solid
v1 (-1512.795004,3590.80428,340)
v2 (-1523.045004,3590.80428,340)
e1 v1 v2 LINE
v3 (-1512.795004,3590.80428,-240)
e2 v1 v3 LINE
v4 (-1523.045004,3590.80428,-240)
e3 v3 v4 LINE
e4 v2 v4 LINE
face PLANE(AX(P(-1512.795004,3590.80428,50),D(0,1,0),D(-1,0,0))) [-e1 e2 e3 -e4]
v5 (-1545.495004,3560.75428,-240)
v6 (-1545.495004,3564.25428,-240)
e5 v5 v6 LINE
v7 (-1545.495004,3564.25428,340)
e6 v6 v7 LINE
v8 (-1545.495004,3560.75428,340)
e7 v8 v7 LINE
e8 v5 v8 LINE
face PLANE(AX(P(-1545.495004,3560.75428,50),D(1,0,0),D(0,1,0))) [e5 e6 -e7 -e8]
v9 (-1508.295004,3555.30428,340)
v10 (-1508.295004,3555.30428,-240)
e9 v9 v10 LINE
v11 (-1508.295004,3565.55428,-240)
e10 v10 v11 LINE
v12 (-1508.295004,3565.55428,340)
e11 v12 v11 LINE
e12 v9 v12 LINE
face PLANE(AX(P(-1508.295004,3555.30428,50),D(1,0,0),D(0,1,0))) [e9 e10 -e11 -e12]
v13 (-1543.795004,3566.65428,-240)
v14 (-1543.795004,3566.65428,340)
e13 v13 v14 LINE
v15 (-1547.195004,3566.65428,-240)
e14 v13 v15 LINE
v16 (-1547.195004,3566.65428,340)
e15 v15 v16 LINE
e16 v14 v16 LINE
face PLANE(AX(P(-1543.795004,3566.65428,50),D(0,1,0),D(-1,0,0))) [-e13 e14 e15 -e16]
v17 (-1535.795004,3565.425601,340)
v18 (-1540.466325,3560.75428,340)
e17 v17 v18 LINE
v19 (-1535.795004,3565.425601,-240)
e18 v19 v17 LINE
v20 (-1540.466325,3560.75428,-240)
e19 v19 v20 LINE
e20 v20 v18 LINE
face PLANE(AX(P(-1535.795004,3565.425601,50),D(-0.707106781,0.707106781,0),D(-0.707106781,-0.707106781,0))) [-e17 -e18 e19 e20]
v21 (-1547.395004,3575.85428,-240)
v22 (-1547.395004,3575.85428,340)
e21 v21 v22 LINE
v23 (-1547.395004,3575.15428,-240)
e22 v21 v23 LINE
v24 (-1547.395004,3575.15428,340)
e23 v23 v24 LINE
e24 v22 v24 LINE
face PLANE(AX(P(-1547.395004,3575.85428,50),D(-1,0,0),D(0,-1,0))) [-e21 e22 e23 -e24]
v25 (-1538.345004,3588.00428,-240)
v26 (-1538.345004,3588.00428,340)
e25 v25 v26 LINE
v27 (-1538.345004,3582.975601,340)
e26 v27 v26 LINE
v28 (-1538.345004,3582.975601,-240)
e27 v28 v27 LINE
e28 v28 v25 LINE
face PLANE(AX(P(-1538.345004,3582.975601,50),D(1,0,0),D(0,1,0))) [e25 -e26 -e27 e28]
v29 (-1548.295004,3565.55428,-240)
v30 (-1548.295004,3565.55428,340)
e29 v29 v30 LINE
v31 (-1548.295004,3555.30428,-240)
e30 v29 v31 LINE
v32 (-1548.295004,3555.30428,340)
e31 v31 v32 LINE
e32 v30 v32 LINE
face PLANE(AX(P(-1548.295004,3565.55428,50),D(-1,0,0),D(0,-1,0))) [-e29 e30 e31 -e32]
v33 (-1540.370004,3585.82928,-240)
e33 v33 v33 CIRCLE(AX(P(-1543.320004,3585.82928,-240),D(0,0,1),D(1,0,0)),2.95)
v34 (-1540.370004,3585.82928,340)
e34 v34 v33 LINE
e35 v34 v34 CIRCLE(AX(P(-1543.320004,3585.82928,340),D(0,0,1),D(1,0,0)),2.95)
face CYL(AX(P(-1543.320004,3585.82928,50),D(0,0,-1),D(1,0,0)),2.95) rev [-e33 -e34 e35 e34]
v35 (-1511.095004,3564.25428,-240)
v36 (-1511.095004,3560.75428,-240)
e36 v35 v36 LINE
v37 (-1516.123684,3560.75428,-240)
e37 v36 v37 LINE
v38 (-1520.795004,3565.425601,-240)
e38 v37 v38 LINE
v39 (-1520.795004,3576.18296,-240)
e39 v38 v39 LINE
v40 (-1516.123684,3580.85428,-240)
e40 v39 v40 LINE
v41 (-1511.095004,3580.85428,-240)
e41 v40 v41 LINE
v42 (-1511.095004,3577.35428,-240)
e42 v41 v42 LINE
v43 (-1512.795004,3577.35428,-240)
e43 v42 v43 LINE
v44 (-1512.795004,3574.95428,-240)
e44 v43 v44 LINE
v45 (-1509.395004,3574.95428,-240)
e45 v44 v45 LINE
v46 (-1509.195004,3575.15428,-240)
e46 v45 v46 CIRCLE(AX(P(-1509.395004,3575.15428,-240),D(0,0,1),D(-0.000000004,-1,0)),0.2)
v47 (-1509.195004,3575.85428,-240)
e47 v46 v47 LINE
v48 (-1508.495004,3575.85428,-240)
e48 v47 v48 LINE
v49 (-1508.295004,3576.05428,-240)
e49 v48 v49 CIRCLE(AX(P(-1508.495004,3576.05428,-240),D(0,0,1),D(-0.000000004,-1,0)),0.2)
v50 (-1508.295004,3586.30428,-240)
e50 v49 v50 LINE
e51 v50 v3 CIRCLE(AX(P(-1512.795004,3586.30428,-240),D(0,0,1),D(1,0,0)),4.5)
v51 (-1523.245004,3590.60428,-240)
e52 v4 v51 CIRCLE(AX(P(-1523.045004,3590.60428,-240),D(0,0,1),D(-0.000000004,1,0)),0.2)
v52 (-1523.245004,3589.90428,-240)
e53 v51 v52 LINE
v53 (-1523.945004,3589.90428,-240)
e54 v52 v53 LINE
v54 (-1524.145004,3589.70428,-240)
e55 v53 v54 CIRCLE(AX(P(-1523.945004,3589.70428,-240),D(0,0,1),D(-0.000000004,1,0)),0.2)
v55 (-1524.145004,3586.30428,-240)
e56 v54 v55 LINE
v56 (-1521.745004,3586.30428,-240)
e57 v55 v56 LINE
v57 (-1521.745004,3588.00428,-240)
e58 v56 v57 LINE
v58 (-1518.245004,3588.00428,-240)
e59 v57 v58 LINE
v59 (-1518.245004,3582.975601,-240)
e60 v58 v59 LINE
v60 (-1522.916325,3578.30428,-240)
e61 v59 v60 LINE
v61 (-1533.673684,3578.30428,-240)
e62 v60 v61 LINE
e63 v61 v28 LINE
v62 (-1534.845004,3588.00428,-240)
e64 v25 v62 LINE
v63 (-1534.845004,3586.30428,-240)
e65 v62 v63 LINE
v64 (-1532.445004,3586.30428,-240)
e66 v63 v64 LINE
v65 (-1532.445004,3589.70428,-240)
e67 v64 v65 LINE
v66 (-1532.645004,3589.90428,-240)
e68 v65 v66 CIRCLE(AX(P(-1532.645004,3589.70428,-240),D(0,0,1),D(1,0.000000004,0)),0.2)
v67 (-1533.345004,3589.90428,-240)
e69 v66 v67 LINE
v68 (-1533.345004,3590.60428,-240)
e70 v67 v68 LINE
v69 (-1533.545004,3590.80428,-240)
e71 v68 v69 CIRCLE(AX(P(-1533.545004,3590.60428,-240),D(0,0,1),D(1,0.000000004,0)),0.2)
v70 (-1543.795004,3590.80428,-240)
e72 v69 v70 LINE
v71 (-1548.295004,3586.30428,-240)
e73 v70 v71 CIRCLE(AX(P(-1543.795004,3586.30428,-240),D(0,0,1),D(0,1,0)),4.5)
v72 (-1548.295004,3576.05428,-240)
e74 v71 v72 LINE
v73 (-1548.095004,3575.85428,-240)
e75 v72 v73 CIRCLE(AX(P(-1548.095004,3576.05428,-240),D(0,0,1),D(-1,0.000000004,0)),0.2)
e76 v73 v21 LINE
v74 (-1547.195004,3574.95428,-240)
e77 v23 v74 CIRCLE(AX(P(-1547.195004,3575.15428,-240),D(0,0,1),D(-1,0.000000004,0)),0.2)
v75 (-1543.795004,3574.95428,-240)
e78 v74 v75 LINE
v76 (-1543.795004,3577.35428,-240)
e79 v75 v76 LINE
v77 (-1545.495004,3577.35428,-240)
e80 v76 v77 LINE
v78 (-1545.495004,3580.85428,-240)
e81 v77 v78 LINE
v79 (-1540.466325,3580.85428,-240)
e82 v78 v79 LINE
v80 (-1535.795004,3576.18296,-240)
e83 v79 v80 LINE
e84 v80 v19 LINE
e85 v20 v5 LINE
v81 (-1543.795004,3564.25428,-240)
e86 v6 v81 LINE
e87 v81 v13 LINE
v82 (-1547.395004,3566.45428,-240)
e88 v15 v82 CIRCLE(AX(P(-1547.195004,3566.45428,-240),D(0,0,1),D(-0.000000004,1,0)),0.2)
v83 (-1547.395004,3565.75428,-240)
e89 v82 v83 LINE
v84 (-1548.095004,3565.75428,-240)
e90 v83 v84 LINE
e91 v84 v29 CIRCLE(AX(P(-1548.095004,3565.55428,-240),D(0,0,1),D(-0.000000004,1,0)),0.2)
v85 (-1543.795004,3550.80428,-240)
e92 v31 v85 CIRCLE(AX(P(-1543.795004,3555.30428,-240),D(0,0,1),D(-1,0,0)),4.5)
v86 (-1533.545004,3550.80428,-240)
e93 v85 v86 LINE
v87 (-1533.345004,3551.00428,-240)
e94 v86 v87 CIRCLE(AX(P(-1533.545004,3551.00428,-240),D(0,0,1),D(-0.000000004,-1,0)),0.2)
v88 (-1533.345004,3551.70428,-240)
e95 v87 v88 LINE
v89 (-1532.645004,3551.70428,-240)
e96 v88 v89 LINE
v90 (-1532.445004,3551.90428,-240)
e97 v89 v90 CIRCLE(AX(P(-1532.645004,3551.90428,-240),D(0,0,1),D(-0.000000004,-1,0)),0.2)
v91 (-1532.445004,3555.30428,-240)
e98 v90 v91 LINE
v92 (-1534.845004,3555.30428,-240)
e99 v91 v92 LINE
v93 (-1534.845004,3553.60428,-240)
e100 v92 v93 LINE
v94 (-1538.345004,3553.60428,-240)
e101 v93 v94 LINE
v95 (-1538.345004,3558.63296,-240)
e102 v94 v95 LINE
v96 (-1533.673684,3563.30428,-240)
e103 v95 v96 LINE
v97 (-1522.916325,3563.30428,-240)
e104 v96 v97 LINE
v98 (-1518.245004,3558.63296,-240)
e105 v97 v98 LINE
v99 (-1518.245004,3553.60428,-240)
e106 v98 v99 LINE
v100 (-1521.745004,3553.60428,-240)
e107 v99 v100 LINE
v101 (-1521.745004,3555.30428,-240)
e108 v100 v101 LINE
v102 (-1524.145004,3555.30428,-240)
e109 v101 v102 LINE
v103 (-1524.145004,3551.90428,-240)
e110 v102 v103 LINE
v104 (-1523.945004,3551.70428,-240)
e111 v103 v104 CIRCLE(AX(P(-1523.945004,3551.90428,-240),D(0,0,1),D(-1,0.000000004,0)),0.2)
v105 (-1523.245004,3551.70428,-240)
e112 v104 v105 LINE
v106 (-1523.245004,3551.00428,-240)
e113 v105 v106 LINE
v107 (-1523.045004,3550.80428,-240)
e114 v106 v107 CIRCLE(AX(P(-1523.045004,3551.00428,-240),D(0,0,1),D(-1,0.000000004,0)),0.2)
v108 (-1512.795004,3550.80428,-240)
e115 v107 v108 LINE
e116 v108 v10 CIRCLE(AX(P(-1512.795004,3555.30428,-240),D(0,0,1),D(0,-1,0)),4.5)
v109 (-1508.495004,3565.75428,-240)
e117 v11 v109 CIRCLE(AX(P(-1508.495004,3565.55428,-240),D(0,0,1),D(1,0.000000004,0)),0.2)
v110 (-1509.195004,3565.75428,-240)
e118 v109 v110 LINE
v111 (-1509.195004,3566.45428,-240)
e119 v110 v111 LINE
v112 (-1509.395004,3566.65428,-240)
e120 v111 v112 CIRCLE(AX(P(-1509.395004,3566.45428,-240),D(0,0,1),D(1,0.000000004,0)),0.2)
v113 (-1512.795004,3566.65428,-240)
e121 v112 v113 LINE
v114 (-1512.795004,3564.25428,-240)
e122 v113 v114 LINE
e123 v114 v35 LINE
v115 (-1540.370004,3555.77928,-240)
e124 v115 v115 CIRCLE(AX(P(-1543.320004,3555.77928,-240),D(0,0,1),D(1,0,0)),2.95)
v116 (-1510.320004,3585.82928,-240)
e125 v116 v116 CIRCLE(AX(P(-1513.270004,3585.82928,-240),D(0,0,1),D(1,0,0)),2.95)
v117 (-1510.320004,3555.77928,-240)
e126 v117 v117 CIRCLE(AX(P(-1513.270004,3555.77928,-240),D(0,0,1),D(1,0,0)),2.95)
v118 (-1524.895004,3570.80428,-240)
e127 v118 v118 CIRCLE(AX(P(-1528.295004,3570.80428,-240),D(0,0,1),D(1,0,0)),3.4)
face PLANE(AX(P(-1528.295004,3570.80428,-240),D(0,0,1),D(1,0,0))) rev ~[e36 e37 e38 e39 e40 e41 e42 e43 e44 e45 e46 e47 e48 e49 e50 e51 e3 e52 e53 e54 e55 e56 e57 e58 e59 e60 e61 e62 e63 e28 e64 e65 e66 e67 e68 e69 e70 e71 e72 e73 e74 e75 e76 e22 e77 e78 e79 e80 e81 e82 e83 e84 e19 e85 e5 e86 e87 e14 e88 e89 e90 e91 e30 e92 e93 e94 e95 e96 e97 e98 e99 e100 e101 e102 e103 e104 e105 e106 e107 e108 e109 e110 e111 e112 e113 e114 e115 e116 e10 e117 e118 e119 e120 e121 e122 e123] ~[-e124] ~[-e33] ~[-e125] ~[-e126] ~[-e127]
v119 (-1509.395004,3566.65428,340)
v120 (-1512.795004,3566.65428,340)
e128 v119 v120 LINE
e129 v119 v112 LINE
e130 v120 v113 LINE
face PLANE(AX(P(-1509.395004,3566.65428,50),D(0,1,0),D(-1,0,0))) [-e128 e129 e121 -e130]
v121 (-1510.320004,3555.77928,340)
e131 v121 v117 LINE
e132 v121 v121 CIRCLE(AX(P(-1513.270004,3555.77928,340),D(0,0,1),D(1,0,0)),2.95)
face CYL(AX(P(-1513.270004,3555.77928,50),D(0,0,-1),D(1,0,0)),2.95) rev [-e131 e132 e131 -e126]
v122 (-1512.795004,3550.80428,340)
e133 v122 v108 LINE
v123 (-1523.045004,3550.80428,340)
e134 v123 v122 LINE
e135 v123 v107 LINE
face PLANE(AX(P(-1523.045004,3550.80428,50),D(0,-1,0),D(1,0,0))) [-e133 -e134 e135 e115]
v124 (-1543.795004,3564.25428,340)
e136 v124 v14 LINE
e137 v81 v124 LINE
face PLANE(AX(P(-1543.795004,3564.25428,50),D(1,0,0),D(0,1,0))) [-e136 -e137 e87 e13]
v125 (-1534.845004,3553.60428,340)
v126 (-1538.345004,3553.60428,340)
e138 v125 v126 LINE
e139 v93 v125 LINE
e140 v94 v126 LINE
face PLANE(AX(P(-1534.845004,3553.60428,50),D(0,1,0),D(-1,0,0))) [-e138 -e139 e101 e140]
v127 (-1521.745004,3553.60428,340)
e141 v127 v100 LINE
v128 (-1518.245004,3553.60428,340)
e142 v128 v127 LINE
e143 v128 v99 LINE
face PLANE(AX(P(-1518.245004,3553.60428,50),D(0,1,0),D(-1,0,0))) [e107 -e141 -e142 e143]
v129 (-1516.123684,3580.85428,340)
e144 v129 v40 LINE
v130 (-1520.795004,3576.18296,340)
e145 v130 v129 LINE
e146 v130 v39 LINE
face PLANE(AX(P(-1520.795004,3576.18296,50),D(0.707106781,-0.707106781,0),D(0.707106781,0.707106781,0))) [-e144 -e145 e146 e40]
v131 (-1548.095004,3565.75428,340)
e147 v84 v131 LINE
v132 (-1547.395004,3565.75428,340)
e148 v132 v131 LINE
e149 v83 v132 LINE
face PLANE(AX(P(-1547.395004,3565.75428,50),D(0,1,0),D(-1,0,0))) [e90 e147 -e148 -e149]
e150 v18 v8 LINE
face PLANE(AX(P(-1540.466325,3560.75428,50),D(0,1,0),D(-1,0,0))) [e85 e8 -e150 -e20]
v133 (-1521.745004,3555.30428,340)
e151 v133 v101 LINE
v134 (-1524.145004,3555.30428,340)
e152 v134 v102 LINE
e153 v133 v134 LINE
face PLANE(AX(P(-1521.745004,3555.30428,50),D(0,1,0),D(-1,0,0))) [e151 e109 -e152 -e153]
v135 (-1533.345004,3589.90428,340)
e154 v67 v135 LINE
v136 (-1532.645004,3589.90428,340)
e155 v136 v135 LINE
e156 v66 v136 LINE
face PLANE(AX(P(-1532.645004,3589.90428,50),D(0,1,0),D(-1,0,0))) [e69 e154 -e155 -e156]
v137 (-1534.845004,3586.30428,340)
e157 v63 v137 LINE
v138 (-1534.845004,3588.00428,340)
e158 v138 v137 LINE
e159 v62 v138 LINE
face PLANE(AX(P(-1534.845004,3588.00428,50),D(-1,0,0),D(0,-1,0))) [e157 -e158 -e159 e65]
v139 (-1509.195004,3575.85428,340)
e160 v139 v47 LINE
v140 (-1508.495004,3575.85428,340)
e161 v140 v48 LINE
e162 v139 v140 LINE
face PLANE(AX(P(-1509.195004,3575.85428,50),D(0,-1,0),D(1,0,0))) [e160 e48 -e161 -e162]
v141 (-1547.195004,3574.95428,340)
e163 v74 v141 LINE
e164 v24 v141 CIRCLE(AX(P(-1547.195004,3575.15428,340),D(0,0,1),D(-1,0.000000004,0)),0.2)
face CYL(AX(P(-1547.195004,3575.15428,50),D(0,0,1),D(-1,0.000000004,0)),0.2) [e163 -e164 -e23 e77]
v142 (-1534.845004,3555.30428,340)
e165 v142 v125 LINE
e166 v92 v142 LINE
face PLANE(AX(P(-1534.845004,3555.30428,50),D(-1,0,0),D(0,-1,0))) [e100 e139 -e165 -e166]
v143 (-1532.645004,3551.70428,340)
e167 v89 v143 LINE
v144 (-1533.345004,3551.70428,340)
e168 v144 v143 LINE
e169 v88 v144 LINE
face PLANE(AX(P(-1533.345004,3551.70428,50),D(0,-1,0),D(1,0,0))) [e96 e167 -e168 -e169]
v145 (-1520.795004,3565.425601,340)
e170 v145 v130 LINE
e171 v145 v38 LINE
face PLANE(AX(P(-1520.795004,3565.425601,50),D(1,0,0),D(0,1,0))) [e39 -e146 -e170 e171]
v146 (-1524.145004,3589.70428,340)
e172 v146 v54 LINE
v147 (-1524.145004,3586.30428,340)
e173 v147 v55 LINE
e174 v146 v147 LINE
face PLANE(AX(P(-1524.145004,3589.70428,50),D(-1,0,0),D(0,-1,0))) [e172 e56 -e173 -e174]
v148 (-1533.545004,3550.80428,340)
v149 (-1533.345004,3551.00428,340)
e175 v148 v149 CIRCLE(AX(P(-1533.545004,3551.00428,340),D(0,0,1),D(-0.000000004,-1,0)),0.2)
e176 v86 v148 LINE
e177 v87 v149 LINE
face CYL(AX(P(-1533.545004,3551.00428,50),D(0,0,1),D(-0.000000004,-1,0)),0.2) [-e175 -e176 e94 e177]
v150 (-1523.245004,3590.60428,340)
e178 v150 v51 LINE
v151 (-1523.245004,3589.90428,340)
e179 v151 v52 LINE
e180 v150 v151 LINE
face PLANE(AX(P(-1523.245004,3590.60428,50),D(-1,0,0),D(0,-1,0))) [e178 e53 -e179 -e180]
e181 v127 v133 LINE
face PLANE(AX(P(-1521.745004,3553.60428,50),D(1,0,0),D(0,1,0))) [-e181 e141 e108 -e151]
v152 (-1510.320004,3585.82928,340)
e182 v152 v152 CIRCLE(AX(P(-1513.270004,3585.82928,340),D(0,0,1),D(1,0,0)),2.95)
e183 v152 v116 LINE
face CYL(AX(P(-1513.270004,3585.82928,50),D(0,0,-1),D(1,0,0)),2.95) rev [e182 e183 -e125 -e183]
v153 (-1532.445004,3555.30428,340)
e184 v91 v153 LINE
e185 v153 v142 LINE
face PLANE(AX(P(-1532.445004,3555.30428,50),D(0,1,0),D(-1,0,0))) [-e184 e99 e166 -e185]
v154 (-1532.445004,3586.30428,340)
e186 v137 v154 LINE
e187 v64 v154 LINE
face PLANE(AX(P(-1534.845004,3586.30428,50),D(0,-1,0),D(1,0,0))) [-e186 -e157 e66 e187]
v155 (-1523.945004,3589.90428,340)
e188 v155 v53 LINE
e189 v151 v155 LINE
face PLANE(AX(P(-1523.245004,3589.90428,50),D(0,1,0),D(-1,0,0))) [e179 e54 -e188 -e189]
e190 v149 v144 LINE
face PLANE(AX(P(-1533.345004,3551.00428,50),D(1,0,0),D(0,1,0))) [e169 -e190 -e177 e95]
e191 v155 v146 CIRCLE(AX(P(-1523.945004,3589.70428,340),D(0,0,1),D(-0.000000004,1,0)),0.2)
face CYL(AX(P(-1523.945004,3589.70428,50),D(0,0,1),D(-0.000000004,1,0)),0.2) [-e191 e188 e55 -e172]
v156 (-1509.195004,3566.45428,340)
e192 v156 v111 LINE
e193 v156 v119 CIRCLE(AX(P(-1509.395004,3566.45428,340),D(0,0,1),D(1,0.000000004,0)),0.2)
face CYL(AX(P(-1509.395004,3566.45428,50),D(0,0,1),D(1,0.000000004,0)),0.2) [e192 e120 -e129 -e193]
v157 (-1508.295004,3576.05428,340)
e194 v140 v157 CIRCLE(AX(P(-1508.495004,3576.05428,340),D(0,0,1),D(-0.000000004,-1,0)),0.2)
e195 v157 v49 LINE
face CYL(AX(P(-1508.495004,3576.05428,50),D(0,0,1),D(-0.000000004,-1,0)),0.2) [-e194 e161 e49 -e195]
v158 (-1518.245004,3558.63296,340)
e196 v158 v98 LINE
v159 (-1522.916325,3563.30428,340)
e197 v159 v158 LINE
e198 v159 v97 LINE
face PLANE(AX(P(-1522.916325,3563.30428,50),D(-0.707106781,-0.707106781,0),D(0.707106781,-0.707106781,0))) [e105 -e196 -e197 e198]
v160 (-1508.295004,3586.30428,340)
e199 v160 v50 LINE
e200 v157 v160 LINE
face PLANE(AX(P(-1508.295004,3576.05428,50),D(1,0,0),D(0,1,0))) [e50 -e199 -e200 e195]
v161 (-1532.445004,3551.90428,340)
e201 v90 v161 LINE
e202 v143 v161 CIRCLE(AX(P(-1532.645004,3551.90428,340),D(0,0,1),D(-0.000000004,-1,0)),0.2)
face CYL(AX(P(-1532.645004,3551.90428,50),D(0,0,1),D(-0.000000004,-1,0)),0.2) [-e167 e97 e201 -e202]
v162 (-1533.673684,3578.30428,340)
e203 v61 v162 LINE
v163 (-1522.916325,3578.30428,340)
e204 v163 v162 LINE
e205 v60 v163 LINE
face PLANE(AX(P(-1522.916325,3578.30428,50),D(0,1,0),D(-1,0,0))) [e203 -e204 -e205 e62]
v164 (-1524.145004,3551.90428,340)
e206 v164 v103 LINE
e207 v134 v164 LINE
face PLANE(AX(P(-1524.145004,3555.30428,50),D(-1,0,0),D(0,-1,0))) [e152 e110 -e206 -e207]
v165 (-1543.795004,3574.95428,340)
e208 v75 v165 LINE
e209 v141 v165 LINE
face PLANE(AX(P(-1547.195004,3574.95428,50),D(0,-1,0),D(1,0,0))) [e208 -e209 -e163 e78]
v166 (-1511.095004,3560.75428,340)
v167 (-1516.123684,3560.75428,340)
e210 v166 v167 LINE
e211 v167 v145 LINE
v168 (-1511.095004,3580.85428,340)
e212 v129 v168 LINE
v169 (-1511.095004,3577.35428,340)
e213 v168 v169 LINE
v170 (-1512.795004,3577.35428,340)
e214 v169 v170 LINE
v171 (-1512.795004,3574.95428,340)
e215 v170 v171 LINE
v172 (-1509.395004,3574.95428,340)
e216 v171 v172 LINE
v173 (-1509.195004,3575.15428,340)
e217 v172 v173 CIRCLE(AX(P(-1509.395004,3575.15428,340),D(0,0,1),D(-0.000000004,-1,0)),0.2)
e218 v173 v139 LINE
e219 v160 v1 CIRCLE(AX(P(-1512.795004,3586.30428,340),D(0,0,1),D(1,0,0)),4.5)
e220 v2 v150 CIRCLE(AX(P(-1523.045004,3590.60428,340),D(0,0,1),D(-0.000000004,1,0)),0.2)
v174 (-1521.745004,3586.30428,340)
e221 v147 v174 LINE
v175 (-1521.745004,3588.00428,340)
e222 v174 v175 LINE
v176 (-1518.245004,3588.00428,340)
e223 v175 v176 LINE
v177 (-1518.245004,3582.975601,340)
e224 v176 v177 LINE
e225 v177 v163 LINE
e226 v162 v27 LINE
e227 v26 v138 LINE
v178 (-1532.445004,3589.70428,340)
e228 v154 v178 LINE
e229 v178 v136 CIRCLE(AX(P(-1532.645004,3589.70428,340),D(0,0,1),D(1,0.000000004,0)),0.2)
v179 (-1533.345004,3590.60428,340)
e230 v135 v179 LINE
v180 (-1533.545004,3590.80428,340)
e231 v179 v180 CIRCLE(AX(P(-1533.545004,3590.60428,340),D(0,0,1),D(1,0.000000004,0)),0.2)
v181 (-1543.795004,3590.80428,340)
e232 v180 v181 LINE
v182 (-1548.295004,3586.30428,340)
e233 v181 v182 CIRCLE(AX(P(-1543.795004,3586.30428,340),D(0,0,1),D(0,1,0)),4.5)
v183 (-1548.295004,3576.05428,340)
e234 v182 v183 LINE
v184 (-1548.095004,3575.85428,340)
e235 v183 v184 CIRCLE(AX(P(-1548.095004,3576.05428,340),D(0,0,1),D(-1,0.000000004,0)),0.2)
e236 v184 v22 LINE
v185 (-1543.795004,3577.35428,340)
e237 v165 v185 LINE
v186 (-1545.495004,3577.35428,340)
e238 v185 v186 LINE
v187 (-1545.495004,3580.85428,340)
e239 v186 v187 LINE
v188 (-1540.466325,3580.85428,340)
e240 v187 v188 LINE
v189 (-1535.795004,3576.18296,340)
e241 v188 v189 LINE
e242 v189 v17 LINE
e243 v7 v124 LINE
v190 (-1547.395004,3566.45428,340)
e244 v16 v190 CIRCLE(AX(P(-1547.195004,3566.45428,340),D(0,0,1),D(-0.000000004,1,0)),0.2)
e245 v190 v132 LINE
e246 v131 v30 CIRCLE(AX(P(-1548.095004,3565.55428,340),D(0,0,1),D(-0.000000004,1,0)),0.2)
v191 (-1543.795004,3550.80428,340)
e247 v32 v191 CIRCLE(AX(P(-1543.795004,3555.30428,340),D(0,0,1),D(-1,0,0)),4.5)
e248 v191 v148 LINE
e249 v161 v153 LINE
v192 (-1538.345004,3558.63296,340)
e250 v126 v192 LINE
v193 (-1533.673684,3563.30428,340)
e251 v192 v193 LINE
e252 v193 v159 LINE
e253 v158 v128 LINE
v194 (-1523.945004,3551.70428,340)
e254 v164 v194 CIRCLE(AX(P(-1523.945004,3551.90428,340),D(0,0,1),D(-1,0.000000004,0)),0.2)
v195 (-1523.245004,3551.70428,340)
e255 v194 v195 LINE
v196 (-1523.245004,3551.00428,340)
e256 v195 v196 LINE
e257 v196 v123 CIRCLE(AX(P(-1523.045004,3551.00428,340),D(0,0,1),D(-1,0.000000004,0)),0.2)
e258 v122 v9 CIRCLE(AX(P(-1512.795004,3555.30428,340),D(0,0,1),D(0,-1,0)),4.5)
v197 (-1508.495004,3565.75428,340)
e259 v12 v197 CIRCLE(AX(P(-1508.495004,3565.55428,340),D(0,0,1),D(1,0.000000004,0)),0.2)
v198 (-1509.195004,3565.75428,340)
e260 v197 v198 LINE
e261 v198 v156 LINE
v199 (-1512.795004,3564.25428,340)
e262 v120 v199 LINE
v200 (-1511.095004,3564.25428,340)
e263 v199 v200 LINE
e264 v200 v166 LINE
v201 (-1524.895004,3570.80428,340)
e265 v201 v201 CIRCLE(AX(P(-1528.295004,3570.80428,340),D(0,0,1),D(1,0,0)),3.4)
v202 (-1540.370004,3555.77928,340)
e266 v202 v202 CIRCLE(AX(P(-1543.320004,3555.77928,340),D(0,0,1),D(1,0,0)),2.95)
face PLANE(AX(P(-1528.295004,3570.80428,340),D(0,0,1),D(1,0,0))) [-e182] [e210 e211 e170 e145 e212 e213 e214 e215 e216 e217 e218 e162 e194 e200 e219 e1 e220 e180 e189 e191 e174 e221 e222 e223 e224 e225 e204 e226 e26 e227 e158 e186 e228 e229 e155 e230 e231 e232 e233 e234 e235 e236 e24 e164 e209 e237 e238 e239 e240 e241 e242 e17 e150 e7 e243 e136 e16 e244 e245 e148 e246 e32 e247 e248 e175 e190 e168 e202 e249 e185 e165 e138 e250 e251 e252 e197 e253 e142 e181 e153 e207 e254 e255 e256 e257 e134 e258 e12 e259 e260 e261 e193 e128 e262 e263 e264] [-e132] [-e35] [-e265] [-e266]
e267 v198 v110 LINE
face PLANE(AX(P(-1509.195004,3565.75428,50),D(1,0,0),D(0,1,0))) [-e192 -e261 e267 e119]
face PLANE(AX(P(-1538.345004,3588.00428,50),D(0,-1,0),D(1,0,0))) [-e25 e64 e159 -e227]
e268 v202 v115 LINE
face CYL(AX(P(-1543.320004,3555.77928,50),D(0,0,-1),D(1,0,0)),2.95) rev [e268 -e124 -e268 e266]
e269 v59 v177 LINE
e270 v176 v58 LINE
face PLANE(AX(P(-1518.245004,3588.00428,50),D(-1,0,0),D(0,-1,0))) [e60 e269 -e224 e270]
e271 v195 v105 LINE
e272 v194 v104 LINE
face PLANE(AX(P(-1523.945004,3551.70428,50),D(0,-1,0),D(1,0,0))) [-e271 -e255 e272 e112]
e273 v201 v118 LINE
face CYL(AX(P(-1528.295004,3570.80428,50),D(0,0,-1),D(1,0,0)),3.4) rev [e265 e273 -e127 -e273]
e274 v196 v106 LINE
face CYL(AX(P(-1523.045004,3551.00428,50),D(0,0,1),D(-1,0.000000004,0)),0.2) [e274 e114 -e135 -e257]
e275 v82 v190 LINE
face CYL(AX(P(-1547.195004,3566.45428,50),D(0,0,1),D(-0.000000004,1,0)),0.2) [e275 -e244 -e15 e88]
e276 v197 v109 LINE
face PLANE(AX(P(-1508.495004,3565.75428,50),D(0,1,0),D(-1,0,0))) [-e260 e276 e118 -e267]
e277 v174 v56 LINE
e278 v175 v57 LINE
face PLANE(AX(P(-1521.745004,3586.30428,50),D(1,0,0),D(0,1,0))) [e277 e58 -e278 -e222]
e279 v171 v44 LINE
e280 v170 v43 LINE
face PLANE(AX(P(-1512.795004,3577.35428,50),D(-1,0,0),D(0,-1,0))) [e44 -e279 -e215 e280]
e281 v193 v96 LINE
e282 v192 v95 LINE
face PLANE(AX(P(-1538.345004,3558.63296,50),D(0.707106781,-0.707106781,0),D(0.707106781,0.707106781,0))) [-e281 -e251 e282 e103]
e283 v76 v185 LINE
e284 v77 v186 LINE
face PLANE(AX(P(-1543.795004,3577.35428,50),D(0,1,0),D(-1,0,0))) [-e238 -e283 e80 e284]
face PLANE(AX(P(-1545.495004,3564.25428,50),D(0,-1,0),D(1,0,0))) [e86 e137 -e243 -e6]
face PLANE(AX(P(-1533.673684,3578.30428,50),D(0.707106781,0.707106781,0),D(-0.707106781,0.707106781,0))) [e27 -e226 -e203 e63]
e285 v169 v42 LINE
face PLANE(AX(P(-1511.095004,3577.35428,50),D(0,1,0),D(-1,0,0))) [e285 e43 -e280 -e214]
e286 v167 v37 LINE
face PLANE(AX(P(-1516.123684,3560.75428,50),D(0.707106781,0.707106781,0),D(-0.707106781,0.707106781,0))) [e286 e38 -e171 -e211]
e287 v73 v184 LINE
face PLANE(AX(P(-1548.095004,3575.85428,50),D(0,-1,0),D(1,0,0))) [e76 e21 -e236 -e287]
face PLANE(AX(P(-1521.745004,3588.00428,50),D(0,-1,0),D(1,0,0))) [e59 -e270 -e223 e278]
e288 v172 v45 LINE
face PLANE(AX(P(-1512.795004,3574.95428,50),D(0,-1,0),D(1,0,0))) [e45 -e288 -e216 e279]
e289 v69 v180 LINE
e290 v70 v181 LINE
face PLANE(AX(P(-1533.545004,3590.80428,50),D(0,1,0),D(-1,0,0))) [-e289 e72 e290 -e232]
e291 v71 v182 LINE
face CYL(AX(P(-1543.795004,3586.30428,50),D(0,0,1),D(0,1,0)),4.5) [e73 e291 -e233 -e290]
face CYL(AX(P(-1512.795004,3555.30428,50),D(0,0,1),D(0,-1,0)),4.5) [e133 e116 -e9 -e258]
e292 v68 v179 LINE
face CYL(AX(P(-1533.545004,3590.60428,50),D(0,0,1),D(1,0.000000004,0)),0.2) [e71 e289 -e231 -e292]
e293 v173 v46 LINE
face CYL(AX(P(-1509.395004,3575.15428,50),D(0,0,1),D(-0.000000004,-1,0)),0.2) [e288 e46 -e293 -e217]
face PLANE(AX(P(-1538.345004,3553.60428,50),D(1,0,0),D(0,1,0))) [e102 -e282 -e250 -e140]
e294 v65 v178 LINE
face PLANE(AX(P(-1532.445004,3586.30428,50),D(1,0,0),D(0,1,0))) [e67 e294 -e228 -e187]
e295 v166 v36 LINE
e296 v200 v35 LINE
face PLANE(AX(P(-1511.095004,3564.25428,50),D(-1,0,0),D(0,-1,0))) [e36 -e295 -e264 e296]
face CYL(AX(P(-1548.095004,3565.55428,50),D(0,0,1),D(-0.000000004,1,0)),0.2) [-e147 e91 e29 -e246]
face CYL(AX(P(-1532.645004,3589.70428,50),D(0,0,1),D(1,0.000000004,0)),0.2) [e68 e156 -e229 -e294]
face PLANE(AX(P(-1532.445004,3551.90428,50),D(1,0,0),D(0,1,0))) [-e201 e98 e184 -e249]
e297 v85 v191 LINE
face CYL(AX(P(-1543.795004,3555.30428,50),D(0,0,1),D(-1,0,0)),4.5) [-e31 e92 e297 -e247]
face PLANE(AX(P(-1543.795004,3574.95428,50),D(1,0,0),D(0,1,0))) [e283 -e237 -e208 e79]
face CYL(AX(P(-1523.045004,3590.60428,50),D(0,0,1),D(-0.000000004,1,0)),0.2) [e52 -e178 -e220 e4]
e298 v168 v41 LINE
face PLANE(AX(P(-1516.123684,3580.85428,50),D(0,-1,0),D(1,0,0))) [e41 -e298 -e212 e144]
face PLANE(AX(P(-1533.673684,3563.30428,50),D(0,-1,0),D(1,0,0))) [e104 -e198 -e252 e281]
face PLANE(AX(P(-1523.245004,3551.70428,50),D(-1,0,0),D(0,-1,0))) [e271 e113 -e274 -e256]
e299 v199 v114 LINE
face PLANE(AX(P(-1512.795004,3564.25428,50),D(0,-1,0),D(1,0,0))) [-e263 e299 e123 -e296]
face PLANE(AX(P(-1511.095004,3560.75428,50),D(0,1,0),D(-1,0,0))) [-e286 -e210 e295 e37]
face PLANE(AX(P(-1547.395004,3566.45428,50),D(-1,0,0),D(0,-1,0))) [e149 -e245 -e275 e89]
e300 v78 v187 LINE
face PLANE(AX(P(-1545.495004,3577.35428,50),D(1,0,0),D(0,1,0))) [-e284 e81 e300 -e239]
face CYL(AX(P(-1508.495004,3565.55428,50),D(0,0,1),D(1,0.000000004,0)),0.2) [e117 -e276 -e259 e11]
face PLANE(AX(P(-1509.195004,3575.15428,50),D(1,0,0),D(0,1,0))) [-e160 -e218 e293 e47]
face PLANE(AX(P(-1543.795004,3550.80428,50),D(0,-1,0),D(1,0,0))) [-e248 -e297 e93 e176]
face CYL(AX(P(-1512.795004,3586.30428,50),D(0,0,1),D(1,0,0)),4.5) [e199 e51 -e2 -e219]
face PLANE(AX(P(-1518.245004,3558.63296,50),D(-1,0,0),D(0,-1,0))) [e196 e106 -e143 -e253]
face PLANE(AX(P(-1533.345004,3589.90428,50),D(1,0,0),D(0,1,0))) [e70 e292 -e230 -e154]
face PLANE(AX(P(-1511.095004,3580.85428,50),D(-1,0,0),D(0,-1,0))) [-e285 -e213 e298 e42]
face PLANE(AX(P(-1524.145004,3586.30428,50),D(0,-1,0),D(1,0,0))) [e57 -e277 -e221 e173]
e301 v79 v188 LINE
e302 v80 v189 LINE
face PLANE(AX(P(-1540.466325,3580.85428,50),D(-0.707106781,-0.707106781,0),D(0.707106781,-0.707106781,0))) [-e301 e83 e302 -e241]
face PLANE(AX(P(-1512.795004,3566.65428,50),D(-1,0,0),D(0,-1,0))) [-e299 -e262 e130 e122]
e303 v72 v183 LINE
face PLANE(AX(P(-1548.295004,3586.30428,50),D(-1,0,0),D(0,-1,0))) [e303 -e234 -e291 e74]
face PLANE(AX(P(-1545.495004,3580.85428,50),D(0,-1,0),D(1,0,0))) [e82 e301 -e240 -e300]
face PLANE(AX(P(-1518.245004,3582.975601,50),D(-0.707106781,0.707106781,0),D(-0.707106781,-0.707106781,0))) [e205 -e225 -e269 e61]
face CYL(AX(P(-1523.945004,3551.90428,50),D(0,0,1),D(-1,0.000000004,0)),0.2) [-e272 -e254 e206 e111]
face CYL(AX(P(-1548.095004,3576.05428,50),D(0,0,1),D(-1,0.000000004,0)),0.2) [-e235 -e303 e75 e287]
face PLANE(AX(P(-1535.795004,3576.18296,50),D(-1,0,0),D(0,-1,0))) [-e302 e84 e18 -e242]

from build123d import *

# Parameters (mm, degrees)
SKETCH_1_R      = 2.95
SKETCH_1_R_2    = 3.4
EXTRUDE_1_DEPTH = 290


with BuildPart() as part:
    # 草图1 → 凸台-拉伸1 (new body, symmetric)
    with BuildSketch(Plane.XY.offset(50)):
        with BuildLine():
            Line((-1518.245004392, 3588.004280474), (-1518.245004392, 3582.975600817))
            Line((-1518.245004392, 3582.975600817), (-1522.916324736, 3578.304280474))
            Line((-1522.916324736, 3578.304280474), (-1533.673684048, 3578.304280474))
            Line((-1533.673684048, 3578.304280474), (-1538.345004392, 3582.975600817))
            Line((-1538.345004392, 3582.975600817), (-1538.345004392, 3588.004280474))
            Line((-1538.345004392, 3588.004280474), (-1534.845004392, 3588.004280474))
            Line((-1534.845004392, 3588.004280474), (-1534.845004392, 3586.304280474))
            Line((-1534.845004392, 3586.304280474), (-1532.445004392, 3586.304280474))
            Line((-1532.445004392, 3586.304280474), (-1532.445004392, 3589.704280474))
            ThreePointArc((-1532.445004392, 3589.704280474), (-1532.503583036, 3589.84570183), (-1532.645004392, 3589.904280474))
            Line((-1532.645004392, 3589.904280474), (-1533.345004392, 3589.904280474))
            Line((-1533.345004392, 3589.904280474), (-1533.345004392, 3590.604280474))
            ThreePointArc((-1533.345004392, 3590.604280474), (-1533.403583036, 3590.74570183), (-1533.545004392, 3590.804280474))
            Line((-1533.545004392, 3590.804280474), (-1543.795004392, 3590.804280474))
            ThreePointArc((-1543.795004392, 3590.804280474), (-1546.976984907, 3589.486260989), (-1548.295004392, 3586.304280474))
            Line((-1548.295004392, 3586.304280474), (-1548.295004392, 3576.054280474))
            ThreePointArc((-1548.295004392, 3576.054280474), (-1548.236425748, 3575.912859117), (-1548.095004392, 3575.854280474))
            Line((-1548.095004392, 3575.854280474), (-1547.395004392, 3575.854280474))
            Line((-1547.395004392, 3575.854280474), (-1547.395004392, 3575.154280474))
            ThreePointArc((-1547.395004392, 3575.154280474), (-1547.336425748, 3575.012859117), (-1547.195004392, 3574.954280474))
            Line((-1547.195004392, 3574.954280474), (-1543.795004392, 3574.954280474))
            Line((-1543.795004392, 3574.954280474), (-1543.795004392, 3577.354280474))
            Line((-1543.795004392, 3577.354280474), (-1545.495004392, 3577.354280474))
            Line((-1545.495004392, 3577.354280474), (-1545.495004392, 3580.854280474))
            Line((-1545.495004392, 3580.854280474), (-1540.466324736, 3580.854280474))
            Line((-1540.466324736, 3580.854280474), (-1535.795004392, 3576.18296013))
            Line((-1535.795004392, 3576.18296013), (-1535.795004392, 3565.425600817))
            Line((-1535.795004392, 3565.425600817), (-1540.466324736, 3560.754280474))
            Line((-1540.466324736, 3560.754280474), (-1545.495004392, 3560.754280474))
            Line((-1545.495004392, 3560.754280474), (-1545.495004392, 3564.254280474))
            Line((-1545.495004392, 3564.254280474), (-1543.795004392, 3564.254280474))
            Line((-1543.795004392, 3564.254280474), (-1543.795004392, 3566.654280474))
            Line((-1543.795004392, 3566.654280474), (-1547.195004392, 3566.654280474))
            ThreePointArc((-1547.195004392, 3566.654280474), (-1547.336425748, 3566.59570183), (-1547.395004392, 3566.454280474))
            Line((-1547.395004392, 3566.454280474), (-1547.395004392, 3565.754280474))
            Line((-1547.395004392, 3565.754280474), (-1548.095004392, 3565.754280474))
            ThreePointArc((-1548.095004392, 3565.754280474), (-1548.236425748, 3565.69570183), (-1548.295004392, 3565.554280474))
            Line((-1548.295004392, 3565.554280474), (-1548.295004392, 3555.304280474))
            ThreePointArc((-1548.295004392, 3555.304280474), (-1546.976984907, 3552.122299958), (-1543.795004392, 3550.804280474))
            Line((-1543.795004392, 3550.804280474), (-1533.545004392, 3550.804280474))
            ThreePointArc((-1533.545004392, 3550.804280474), (-1533.403583036, 3550.862859117), (-1533.345004392, 3551.004280474))
            Line((-1533.345004392, 3551.004280474), (-1533.345004392, 3551.704280474))
            Line((-1533.345004392, 3551.704280474), (-1532.645004392, 3551.704280474))
            ThreePointArc((-1532.645004392, 3551.704280474), (-1532.503583036, 3551.762859117), (-1532.445004392, 3551.904280474))
            Line((-1532.445004392, 3551.904280474), (-1532.445004392, 3555.304280474))
            Line((-1532.445004392, 3555.304280474), (-1534.845004392, 3555.304280474))
            Line((-1534.845004392, 3555.304280474), (-1534.845004392, 3553.604280474))
            Line((-1534.845004392, 3553.604280474), (-1538.345004392, 3553.604280474))
            Line((-1538.345004392, 3553.604280474), (-1538.345004392, 3558.63296013))
            Line((-1538.345004392, 3558.63296013), (-1533.673684048, 3563.304280474))
            Line((-1533.673684048, 3563.304280474), (-1522.916324736, 3563.304280474))
            Line((-1522.916324736, 3563.304280474), (-1518.245004392, 3558.63296013))
            Line((-1518.245004392, 3558.63296013), (-1518.245004392, 3553.604280474))
            Line((-1518.245004392, 3553.604280474), (-1521.745004392, 3553.604280474))
            Line((-1521.745004392, 3553.604280474), (-1521.745004392, 3555.304280474))
            Line((-1521.745004392, 3555.304280474), (-1524.145004392, 3555.304280474))
            Line((-1524.145004392, 3555.304280474), (-1524.145004392, 3551.904280474))
            ThreePointArc((-1524.145004392, 3551.904280474), (-1524.086425748, 3551.762859117), (-1523.945004392, 3551.704280474))
            Line((-1523.945004392, 3551.704280474), (-1523.245004392, 3551.704280474))
            Line((-1523.245004392, 3551.704280474), (-1523.245004392, 3551.004280474))
            ThreePointArc((-1523.245004392, 3551.004280474), (-1523.186425748, 3550.862859117), (-1523.045004392, 3550.804280474))
            Line((-1523.045004392, 3550.804280474), (-1512.795004392, 3550.804280474))
            ThreePointArc((-1512.795004392, 3550.804280474), (-1509.613023877, 3552.122299958), (-1508.295004392, 3555.304280474))
            Line((-1508.295004392, 3555.304280474), (-1508.295004392, 3565.554280474))
            ThreePointArc((-1508.295004392, 3565.554280474), (-1508.353583036, 3565.69570183), (-1508.495004392, 3565.754280474))
            Line((-1508.495004392, 3565.754280474), (-1509.195004392, 3565.754280474))
            Line((-1509.195004392, 3565.754280474), (-1509.195004392, 3566.454280474))
            ThreePointArc((-1509.195004392, 3566.454280474), (-1509.253583036, 3566.59570183), (-1509.395004392, 3566.654280474))
            Line((-1509.395004392, 3566.654280474), (-1512.795004392, 3566.654280474))
            Line((-1512.795004392, 3566.654280474), (-1512.795004392, 3564.254280474))
            Line((-1512.795004392, 3564.254280474), (-1511.095004392, 3564.254280474))
            Line((-1511.095004392, 3564.254280474), (-1511.095004392, 3560.754280474))
            Line((-1511.095004392, 3560.754280474), (-1516.123684048, 3560.754280474))
            Line((-1516.123684048, 3560.754280474), (-1520.795004392, 3565.425600817))
            Line((-1520.795004392, 3565.425600817), (-1520.795004392, 3576.18296013))
            Line((-1520.795004392, 3576.18296013), (-1516.123684048, 3580.854280474))
            Line((-1516.123684048, 3580.854280474), (-1511.095004392, 3580.854280474))
            Line((-1511.095004392, 3580.854280474), (-1511.095004392, 3577.354280474))
            Line((-1511.095004392, 3577.354280474), (-1512.795004392, 3577.354280474))
            Line((-1512.795004392, 3577.354280474), (-1512.795004392, 3574.954280474))
            Line((-1512.795004392, 3574.954280474), (-1509.395004392, 3574.954280474))
            ThreePointArc((-1509.395004392, 3574.954280474), (-1509.253583036, 3575.012859117), (-1509.195004392, 3575.154280474))
            Line((-1509.195004392, 3575.154280474), (-1509.195004392, 3575.854280474))
            Line((-1509.195004392, 3575.854280474), (-1508.495004392, 3575.854280474))
            ThreePointArc((-1508.495004392, 3575.854280474), (-1508.353583036, 3575.912859117), (-1508.295004392, 3576.054280474))
            Line((-1508.295004392, 3576.054280474), (-1508.295004392, 3586.304280474))
            ThreePointArc((-1508.295004392, 3586.304280474), (-1509.613023877, 3589.486260989), (-1512.795004392, 3590.804280474))
            Line((-1512.795004392, 3590.804280474), (-1523.045004392, 3590.804280474))
            ThreePointArc((-1523.045004392, 3590.804280474), (-1523.186425748, 3590.74570183), (-1523.245004392, 3590.604280474))
            Line((-1523.245004392, 3590.604280474), (-1523.245004392, 3589.904280474))
            Line((-1523.245004392, 3589.904280474), (-1523.945004392, 3589.904280474))
            ThreePointArc((-1523.945004392, 3589.904280474), (-1524.086425748, 3589.84570183), (-1524.145004392, 3589.704280474))
            Line((-1524.145004392, 3589.704280474), (-1524.145004392, 3586.304280474))
            Line((-1524.145004392, 3586.304280474), (-1521.745004392, 3586.304280474))
            Line((-1521.745004392, 3586.304280474), (-1521.745004392, 3588.004280474))
            Line((-1521.745004392, 3588.004280474), (-1518.245004392, 3588.004280474))
        make_face()
        with Locations((-1513.270004392, 3555.779280474)):
            Circle(SKETCH_1_R, mode=Mode.SUBTRACT)
        with Locations((-1528.295004392, 3570.804280474)):
            Circle(SKETCH_1_R_2, mode=Mode.SUBTRACT)
        with Locations((-1513.270004392, 3585.829280474)):
            Circle(SKETCH_1_R, mode=Mode.SUBTRACT)
        with Locations((-1543.320004392, 3585.829280474)):
            Circle(SKETCH_1_R, mode=Mode.SUBTRACT)
        with Locations((-1543.320004392, 3555.779280474)):
            Circle(SKETCH_1_R, mode=Mode.SUBTRACT)
    extrude(amount=EXTRUDE_1_DEPTH, both=True)


solid = part.part
